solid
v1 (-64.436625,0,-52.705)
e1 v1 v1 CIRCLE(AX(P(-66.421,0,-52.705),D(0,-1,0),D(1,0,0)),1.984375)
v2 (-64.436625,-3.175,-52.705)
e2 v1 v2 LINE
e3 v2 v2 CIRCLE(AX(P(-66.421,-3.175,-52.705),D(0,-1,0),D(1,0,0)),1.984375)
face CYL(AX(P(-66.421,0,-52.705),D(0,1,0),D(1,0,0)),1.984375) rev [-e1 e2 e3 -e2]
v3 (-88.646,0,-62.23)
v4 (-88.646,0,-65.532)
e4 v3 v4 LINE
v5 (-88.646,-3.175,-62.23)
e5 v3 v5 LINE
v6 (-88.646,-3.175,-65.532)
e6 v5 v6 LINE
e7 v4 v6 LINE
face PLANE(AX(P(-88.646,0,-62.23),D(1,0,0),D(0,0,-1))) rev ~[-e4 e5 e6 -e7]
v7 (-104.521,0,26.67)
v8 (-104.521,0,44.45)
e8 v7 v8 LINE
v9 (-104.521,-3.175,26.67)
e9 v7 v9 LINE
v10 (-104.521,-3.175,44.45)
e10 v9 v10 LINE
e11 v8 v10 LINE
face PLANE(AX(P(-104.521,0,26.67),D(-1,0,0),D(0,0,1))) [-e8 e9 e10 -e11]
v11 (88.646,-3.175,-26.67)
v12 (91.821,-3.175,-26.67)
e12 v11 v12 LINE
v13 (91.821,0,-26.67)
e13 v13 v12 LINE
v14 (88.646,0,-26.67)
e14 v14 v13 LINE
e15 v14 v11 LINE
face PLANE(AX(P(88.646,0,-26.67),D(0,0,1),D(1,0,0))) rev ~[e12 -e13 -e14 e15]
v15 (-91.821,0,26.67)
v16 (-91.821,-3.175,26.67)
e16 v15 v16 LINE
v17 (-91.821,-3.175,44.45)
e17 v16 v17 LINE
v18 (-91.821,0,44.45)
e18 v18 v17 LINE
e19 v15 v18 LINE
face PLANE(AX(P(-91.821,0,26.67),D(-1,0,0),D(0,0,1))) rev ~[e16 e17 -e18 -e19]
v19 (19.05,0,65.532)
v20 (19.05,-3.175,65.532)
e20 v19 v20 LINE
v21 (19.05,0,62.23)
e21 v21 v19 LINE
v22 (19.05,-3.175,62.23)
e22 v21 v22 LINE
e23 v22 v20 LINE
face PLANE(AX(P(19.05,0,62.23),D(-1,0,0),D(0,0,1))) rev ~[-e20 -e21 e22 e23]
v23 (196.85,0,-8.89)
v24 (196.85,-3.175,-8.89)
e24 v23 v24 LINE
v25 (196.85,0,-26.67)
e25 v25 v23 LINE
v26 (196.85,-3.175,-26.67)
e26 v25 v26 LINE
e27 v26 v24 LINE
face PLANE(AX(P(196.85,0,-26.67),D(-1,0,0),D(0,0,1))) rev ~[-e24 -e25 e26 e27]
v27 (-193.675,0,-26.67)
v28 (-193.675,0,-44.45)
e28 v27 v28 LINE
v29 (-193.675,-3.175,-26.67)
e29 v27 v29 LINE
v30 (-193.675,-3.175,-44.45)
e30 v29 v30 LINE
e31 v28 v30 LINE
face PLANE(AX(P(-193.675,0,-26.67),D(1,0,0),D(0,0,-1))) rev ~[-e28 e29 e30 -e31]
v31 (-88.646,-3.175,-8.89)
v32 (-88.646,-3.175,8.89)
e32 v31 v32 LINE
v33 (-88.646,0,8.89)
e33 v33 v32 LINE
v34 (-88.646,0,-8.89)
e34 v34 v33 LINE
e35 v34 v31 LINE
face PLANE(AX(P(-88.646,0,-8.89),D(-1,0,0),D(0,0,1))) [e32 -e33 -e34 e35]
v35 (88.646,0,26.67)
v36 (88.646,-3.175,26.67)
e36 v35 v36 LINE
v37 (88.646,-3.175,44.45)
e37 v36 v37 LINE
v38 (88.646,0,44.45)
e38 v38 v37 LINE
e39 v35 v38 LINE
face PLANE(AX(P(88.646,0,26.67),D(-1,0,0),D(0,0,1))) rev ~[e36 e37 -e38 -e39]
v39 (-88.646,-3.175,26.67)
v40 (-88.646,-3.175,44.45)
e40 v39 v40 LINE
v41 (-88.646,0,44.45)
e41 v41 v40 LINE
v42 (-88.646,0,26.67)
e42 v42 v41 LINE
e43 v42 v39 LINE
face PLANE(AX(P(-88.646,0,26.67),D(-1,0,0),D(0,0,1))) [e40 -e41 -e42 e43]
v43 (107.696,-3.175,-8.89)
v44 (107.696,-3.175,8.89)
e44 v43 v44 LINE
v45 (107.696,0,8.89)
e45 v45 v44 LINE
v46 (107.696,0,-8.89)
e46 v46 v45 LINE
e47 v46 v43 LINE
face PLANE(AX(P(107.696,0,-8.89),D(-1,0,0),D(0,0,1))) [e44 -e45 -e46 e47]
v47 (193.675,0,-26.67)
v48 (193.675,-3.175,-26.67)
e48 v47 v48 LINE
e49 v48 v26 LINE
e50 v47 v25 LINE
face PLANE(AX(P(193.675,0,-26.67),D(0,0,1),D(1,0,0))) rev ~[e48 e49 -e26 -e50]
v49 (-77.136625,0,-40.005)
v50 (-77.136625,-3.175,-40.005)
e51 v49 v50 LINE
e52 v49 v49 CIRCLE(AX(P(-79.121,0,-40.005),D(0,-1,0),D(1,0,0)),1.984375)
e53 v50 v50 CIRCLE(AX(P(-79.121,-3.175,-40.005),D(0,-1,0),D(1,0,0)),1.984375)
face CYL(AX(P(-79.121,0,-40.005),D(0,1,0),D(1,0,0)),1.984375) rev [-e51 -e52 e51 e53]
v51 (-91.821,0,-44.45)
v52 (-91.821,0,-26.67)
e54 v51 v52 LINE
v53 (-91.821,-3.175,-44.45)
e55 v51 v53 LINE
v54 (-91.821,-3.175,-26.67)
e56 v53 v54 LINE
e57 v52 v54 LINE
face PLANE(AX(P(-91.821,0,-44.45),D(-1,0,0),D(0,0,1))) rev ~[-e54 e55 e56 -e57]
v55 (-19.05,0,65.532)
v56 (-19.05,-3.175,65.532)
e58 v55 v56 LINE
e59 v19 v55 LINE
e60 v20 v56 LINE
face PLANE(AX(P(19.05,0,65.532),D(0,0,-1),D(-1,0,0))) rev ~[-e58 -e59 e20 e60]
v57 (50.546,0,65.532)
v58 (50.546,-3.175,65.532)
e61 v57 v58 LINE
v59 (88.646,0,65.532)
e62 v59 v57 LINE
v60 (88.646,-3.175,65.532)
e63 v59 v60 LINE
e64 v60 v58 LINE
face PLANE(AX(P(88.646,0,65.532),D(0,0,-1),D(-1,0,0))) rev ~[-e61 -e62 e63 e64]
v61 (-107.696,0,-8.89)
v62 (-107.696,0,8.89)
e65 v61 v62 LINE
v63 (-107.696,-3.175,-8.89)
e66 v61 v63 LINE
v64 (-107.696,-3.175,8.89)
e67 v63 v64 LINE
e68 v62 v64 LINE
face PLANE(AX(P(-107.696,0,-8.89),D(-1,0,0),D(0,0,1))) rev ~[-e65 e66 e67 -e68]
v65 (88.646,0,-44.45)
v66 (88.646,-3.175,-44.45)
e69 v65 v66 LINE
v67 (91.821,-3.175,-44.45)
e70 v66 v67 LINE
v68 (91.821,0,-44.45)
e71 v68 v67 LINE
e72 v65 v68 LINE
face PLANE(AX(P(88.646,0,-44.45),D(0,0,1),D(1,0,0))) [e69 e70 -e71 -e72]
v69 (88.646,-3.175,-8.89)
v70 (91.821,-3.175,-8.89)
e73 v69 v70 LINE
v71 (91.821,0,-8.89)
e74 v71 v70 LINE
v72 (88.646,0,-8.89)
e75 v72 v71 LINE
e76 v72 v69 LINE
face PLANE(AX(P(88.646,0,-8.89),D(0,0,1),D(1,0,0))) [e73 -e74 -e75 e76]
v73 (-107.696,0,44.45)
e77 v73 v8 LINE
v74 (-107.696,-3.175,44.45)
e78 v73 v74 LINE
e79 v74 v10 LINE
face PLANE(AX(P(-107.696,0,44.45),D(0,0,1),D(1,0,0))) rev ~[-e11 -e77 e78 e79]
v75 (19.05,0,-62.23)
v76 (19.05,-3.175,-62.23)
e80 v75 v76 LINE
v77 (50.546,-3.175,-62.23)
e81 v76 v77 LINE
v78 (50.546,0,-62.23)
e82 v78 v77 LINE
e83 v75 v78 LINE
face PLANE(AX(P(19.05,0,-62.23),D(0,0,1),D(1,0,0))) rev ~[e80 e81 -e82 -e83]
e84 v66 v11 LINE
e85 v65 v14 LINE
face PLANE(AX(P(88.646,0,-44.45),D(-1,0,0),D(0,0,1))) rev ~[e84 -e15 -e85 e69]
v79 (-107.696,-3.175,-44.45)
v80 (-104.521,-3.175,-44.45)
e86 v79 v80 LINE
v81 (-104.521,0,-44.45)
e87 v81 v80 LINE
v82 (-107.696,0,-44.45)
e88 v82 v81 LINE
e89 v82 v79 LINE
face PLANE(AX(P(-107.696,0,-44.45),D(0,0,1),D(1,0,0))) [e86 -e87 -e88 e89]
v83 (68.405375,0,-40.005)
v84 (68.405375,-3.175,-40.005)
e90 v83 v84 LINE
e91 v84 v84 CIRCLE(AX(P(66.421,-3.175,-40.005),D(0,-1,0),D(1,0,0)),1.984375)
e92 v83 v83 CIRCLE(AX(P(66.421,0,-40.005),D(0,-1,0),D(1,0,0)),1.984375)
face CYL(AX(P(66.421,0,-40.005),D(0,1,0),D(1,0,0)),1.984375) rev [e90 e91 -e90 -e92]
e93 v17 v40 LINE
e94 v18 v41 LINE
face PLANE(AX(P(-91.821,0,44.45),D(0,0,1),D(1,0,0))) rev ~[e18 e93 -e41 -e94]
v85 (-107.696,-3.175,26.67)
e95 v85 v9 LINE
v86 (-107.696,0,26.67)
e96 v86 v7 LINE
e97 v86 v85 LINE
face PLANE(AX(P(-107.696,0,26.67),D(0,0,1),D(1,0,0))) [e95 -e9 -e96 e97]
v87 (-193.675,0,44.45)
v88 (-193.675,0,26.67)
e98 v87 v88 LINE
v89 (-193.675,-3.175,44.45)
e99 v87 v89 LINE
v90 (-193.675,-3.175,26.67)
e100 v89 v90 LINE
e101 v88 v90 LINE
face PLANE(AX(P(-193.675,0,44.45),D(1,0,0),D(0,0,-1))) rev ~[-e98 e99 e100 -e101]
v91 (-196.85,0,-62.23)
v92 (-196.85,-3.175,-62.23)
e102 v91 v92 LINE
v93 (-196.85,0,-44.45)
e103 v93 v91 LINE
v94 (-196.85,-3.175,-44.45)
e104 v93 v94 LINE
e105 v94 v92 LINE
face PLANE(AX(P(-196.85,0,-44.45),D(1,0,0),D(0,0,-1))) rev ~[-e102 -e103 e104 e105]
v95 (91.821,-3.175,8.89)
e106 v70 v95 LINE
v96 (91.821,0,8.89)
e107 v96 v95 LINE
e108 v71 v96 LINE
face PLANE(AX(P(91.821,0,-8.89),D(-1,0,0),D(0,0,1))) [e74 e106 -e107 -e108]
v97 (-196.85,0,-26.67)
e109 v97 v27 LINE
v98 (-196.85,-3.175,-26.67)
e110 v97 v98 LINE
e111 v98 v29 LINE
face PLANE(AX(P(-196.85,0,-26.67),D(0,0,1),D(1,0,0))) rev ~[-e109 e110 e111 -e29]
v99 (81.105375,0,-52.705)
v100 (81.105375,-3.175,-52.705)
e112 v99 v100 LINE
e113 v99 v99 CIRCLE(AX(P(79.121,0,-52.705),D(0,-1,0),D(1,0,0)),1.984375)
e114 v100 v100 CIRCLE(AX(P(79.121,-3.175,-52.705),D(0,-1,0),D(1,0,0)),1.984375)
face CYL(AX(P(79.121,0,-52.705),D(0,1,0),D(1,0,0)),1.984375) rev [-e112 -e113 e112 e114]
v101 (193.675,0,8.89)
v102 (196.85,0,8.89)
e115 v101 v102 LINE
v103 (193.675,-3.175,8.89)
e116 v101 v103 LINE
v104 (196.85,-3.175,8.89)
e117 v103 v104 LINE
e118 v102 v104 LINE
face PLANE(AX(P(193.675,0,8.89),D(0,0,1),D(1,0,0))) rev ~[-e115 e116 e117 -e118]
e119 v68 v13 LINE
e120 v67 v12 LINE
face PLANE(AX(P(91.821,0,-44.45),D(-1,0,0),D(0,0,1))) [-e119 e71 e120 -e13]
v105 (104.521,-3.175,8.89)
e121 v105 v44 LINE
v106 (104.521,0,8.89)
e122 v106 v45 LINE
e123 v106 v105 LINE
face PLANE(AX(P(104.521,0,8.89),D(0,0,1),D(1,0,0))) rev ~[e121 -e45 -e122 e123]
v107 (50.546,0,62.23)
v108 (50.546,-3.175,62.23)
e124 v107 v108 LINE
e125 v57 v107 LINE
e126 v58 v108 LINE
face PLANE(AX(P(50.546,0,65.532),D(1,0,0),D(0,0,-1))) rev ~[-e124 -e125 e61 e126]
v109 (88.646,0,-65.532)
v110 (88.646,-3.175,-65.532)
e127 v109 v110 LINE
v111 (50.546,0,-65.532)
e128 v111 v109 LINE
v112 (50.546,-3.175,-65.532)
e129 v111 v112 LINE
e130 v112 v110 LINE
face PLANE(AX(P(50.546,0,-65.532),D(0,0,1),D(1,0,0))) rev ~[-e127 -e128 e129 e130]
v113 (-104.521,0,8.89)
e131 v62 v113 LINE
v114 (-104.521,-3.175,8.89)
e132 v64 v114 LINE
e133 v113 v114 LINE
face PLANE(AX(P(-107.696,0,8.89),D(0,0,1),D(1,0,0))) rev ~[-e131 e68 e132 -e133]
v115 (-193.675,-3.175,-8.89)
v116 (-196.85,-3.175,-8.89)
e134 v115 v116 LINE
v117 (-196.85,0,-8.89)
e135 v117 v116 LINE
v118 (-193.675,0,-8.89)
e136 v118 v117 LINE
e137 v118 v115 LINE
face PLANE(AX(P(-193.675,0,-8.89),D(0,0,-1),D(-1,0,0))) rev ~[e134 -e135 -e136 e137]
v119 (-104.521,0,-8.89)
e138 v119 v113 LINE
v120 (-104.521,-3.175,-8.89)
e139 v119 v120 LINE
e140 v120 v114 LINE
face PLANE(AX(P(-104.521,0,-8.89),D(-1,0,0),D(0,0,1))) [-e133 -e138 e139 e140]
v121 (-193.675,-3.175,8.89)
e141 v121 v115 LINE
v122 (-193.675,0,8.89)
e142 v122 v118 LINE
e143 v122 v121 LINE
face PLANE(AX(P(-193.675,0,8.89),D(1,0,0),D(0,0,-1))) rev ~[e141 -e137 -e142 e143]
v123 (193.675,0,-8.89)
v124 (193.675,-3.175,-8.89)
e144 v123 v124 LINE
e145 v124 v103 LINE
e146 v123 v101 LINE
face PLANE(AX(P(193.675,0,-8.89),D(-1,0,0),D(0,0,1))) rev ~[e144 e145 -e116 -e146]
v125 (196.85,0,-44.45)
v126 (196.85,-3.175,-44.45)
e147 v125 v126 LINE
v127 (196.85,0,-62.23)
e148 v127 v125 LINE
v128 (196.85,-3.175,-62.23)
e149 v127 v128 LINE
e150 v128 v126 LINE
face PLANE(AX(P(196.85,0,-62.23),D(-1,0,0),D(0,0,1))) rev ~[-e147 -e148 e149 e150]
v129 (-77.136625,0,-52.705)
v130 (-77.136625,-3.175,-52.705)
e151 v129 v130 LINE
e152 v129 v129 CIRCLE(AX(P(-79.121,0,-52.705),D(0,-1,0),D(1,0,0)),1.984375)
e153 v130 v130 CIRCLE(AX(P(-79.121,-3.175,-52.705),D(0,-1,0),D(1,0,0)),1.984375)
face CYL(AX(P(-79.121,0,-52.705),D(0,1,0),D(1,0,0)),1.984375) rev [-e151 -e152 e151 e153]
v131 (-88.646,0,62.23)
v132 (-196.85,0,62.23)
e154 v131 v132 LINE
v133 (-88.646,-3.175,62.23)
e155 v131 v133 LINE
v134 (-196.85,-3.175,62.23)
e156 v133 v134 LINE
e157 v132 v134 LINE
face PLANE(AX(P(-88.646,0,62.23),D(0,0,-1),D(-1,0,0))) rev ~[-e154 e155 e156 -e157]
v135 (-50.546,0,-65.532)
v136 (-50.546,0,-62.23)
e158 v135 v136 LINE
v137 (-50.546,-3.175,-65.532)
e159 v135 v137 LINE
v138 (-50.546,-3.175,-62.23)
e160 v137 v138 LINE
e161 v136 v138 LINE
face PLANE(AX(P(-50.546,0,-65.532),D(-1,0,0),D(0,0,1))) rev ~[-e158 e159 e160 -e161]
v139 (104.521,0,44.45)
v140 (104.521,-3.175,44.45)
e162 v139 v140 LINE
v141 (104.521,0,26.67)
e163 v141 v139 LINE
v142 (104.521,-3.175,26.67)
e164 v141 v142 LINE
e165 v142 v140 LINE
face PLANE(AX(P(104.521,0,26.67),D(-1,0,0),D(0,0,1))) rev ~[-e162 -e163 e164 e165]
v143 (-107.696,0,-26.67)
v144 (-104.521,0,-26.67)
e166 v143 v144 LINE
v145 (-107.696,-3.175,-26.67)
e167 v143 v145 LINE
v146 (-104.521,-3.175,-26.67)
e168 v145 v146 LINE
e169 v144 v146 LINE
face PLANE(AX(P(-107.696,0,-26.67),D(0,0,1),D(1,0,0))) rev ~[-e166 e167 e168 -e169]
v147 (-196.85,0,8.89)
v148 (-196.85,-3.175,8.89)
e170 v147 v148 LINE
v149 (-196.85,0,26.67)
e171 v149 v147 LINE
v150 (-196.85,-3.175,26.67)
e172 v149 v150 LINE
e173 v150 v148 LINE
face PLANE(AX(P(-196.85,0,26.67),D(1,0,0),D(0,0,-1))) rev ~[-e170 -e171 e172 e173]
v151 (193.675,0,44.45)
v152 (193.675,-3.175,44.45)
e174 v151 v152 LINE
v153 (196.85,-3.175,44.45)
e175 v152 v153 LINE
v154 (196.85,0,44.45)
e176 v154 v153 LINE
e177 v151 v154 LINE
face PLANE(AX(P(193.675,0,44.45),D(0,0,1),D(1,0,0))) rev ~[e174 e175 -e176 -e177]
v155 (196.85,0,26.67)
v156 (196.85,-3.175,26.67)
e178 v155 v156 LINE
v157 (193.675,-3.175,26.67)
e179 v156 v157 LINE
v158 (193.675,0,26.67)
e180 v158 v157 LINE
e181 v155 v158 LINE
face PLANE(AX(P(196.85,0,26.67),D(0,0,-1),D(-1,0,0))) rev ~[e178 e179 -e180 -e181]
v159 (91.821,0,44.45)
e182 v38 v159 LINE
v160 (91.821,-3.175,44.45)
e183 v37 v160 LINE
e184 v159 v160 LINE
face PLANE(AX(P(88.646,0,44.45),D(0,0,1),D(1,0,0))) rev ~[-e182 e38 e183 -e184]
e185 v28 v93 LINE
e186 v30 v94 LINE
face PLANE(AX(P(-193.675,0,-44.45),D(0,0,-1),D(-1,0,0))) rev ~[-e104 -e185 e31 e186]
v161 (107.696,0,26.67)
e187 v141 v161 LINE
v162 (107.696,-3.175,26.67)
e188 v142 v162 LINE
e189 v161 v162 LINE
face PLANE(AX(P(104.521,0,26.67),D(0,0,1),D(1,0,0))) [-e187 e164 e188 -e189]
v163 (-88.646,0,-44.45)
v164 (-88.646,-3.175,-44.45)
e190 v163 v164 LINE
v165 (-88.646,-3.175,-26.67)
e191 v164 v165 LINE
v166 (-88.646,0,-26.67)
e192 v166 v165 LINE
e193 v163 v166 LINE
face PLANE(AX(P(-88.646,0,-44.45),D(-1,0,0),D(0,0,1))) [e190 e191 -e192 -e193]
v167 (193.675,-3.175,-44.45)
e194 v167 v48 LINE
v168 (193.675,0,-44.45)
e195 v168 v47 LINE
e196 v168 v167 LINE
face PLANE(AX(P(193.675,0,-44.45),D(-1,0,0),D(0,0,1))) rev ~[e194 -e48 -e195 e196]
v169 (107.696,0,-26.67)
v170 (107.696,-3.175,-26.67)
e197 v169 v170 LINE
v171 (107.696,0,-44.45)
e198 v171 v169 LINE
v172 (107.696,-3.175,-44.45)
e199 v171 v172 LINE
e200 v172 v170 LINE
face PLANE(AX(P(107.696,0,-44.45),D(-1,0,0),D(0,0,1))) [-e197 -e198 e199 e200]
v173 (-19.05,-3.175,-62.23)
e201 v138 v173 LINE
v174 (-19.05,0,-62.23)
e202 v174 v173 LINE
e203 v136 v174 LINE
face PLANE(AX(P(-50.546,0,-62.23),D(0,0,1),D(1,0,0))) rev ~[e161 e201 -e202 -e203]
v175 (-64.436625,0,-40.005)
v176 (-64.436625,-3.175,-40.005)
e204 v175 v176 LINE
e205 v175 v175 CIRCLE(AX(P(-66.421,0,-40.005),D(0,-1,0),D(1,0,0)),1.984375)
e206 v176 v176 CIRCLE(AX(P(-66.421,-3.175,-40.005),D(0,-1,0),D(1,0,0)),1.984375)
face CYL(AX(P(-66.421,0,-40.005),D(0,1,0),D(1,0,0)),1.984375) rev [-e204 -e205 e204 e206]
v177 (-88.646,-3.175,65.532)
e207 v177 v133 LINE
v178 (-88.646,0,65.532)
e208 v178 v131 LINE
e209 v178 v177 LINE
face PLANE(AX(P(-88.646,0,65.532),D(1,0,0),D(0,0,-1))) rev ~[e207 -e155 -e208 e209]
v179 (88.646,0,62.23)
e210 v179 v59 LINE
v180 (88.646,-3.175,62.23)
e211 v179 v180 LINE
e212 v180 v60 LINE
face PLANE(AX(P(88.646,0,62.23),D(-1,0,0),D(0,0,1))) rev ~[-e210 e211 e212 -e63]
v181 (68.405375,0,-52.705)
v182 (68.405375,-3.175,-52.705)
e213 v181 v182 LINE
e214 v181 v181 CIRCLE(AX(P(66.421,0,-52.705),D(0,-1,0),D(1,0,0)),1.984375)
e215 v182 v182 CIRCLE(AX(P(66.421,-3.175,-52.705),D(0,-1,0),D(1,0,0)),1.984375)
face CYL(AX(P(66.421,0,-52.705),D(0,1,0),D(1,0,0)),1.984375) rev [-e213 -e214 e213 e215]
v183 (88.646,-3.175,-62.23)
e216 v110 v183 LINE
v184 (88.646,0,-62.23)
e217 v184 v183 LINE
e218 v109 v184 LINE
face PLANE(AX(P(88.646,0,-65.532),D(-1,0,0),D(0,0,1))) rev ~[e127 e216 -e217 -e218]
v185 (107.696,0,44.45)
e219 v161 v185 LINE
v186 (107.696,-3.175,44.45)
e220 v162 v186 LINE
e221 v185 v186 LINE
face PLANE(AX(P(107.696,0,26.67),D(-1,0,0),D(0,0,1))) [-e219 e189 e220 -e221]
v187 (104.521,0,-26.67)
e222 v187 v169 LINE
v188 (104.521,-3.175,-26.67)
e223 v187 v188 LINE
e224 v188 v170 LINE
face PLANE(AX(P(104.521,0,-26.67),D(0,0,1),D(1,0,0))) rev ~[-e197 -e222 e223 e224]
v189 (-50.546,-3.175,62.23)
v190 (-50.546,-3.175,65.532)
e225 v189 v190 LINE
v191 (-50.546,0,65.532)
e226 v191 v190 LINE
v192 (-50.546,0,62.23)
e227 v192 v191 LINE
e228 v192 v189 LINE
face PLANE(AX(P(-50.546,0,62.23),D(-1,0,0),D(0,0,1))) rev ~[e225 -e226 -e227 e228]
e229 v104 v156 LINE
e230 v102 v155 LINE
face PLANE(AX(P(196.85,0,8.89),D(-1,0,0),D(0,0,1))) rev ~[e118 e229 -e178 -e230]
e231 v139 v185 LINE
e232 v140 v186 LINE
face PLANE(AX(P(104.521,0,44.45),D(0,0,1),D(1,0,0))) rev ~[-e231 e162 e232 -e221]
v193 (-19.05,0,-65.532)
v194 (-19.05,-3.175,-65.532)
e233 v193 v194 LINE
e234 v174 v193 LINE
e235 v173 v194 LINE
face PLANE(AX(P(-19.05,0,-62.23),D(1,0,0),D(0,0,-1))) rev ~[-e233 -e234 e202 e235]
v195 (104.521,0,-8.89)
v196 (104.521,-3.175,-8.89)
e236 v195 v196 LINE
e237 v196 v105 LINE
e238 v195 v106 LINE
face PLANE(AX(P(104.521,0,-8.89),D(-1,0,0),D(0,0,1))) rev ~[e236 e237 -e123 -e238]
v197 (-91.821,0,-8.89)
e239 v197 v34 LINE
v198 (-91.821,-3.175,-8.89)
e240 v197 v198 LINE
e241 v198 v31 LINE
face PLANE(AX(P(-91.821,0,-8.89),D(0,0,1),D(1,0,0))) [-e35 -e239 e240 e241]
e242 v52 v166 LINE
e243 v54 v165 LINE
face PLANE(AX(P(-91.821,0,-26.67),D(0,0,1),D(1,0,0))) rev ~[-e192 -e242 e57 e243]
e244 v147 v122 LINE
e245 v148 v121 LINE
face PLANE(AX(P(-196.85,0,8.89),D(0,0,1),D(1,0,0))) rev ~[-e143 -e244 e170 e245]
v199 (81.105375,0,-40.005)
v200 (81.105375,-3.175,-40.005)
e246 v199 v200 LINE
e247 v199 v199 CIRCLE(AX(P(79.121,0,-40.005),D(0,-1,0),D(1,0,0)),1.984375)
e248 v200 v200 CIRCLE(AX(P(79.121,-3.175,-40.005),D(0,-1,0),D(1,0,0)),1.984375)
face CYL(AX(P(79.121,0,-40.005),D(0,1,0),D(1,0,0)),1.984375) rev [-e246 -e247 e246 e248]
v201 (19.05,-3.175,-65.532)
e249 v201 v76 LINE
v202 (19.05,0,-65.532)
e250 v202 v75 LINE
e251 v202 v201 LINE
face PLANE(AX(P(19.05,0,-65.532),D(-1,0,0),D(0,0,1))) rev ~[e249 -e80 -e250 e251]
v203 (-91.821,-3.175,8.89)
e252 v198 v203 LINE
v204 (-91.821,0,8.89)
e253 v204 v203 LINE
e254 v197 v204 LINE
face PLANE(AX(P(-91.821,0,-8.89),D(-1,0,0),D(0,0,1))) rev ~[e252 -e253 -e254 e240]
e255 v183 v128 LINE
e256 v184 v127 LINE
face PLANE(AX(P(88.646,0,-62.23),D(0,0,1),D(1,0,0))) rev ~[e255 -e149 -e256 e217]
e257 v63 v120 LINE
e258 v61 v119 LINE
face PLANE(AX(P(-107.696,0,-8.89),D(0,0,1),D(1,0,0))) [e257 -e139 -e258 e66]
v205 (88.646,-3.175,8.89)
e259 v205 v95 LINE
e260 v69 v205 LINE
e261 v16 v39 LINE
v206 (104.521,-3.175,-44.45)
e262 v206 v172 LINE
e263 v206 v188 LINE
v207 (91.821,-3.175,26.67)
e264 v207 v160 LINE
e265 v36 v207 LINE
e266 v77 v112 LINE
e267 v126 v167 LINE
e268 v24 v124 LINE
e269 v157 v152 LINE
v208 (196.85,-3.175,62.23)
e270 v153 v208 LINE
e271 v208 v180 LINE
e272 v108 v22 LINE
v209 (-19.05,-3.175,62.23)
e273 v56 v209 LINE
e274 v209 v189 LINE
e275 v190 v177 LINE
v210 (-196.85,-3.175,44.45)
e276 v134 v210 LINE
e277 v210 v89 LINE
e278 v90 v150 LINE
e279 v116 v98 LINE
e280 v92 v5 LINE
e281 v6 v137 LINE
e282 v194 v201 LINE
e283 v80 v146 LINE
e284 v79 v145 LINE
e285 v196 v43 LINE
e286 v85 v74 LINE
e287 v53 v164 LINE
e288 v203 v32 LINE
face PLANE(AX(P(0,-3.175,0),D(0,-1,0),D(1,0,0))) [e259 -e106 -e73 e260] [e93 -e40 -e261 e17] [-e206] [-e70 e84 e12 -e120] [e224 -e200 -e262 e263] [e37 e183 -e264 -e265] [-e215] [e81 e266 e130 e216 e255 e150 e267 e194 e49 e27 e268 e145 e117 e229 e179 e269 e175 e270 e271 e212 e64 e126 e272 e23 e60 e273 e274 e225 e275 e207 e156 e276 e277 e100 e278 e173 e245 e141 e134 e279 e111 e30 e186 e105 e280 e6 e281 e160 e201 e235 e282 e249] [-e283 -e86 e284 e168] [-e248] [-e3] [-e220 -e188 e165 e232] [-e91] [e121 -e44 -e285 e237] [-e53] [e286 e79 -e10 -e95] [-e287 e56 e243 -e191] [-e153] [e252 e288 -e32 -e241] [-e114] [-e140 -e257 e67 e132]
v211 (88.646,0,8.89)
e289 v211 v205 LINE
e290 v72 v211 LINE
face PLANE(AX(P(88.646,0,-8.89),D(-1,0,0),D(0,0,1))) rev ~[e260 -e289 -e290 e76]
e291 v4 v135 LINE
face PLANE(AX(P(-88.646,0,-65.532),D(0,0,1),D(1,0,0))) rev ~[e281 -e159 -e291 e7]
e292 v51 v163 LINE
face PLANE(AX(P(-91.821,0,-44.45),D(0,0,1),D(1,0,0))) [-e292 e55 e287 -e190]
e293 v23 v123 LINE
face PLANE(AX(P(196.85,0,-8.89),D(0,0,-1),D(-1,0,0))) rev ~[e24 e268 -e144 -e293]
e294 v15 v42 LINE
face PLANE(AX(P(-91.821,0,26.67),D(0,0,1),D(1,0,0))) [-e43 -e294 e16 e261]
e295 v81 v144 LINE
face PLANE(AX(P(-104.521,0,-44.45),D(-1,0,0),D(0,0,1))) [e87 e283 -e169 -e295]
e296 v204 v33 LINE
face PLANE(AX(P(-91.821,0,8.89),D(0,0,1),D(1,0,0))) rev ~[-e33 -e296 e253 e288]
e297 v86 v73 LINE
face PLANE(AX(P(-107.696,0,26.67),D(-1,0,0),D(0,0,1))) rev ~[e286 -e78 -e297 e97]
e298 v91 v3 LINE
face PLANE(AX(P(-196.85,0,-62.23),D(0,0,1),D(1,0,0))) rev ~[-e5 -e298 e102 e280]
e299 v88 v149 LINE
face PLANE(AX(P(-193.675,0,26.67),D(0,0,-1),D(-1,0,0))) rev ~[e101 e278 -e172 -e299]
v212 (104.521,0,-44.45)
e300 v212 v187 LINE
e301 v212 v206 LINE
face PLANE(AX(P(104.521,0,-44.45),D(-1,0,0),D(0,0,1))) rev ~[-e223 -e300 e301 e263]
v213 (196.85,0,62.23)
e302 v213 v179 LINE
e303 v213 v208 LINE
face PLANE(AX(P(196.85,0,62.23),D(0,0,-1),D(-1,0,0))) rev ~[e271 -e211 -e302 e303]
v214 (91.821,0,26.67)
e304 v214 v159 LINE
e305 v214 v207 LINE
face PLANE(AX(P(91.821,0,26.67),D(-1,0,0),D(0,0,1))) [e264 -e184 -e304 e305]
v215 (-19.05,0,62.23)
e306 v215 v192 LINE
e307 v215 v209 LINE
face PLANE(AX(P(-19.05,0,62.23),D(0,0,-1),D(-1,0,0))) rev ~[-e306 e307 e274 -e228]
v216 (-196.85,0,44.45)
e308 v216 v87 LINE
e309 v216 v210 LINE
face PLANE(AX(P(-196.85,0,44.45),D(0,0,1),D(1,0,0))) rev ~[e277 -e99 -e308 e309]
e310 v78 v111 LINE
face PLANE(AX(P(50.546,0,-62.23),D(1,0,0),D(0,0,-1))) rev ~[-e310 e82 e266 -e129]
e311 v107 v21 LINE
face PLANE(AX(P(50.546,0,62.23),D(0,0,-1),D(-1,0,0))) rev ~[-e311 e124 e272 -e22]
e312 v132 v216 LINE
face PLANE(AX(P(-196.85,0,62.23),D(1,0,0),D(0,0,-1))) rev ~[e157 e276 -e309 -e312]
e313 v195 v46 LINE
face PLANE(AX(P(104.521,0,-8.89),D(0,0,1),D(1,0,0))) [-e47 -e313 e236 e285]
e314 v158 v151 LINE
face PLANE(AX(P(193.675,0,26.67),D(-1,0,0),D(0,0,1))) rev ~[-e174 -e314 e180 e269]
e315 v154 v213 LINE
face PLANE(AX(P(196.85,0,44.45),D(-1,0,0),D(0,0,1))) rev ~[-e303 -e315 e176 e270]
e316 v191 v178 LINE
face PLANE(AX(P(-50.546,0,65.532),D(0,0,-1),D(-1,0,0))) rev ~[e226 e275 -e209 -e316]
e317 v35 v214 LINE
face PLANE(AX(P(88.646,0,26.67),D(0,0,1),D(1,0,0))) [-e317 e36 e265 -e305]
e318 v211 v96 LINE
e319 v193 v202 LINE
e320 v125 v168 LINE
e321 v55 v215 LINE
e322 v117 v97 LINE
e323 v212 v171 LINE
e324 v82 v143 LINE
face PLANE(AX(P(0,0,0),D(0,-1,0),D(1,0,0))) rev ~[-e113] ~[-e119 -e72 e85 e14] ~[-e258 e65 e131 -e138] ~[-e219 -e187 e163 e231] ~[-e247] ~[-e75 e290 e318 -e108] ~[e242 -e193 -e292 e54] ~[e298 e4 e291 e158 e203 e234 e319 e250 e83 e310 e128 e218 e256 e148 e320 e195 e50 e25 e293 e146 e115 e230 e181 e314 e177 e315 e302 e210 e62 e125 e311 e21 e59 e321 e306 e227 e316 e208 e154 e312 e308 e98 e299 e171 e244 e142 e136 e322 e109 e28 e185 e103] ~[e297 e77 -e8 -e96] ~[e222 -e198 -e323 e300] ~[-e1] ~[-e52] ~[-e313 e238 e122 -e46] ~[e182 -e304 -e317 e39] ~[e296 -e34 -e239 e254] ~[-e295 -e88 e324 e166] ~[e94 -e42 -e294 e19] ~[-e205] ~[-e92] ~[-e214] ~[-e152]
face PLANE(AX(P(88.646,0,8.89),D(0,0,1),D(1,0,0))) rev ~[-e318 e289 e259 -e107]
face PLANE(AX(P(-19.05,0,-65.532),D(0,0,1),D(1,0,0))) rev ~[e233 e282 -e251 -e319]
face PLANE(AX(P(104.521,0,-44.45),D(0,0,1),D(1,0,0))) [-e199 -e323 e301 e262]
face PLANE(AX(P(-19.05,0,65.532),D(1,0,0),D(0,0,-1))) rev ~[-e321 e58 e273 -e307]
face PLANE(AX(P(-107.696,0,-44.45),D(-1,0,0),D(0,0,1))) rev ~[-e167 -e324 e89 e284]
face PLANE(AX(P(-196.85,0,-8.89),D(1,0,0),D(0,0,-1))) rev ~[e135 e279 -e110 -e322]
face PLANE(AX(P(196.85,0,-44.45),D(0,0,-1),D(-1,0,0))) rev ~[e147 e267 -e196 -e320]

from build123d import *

# Parameters (mm, degrees)
F0_W     = 3.175
F0_H     = 17.78
F0_R     = 1.984375
F1_DEPTH = 3.175


with BuildPart() as f1:
    # F0 (on Front) → F1 (new body)
    with BuildSketch(Plane.XZ):
        Polygon((-88.646, -65.532), (-50.546, -65.532), (-50.546, -62.23), (-19.05, -62.23), (-19.05, -65.532), (19.05, -65.532), (19.05, -62.23), (50.546, -62.23), (50.546, -65.532), (88.646, -65.532), (88.646, -62.23), (107.696, -62.23), (196.85, -62.23), (196.85, -44.45), (193.675, -44.45), (193.675, -26.67), (196.85, -26.67), (196.85, -8.89), (193.675, -8.89), (193.675, 8.89), (196.85, 8.89), (196.85, 26.67), (193.675, 26.67), (193.675, 44.45), (196.85, 44.45), (196.85, 62.23), (107.696, 62.23), (88.646, 62.23), (88.646, 65.532), (50.546, 65.532), (50.546, 62.23), (19.05, 62.23), (19.05, 65.532), (-19.05, 65.532), (-19.05, 62.23), (-50.546, 62.23), (-50.546, 65.532), (-88.646, 65.532), (-88.646, 62.23), (-107.696, 62.23), (-196.85, 62.23), (-196.85, 44.45), (-193.675, 44.45), (-193.675, 26.67), (-196.85, 26.67), (-196.85, 8.89), (-193.675, 8.89), (-193.675, -8.89), (-196.85, -8.89), (-196.85, -26.67), (-193.675, -26.67), (-193.675, -44.45), (-196.85, -44.45), (-196.85, -62.23), (-107.696, -62.23), (-88.646, -62.23), align=None)
        with Locations((-106.1085, -35.56)):
            Rectangle(F0_W, F0_H, mode=Mode.SUBTRACT)
        with Locations((-79.121, -52.705)):
            Circle(F0_R, mode=Mode.SUBTRACT)
        with Locations((-66.421, -52.705)):
            Circle(F0_R, mode=Mode.SUBTRACT)
        with Locations((-79.121, -40.005)):
            Circle(F0_R, mode=Mode.SUBTRACT)
        with Locations((-90.2335, -35.56)):
            Rectangle(F0_W, F0_H, mode=Mode.SUBTRACT)
        with Locations((-66.421, -40.005)):
            Circle(F0_R, mode=Mode.SUBTRACT)
        with Locations((66.421, -52.705)):
            Circle(F0_R, mode=Mode.SUBTRACT)
        with Locations((79.121, -52.705)):
            Circle(F0_R, mode=Mode.SUBTRACT)
        with Locations((66.421, -40.005)):
            Circle(F0_R, mode=Mode.SUBTRACT)
        with Locations((79.121, -40.005)):
            Circle(F0_R, mode=Mode.SUBTRACT)
        with Locations((90.2335, -35.56)):
            Rectangle(F0_W, F0_H, mode=Mode.SUBTRACT)
        with Locations((106.1085, -35.56)):
            Rectangle(F0_W, F0_H, mode=Mode.SUBTRACT)
        with Locations((-106.1085, 0)):
            Rectangle(F0_W, F0_H, mode=Mode.SUBTRACT)
        with Locations((-90.2335, 0)):
            Rectangle(F0_W, F0_H, mode=Mode.SUBTRACT)
        with Locations((-106.1085, 35.56)):
            Rectangle(F0_W, F0_H, mode=Mode.SUBTRACT)
        with Locations((-90.2335, 35.56)):
            Rectangle(F0_W, F0_H, mode=Mode.SUBTRACT)
        with Locations((90.2335, 0)):
            Rectangle(F0_W, F0_H, mode=Mode.SUBTRACT)
        with Locations((106.1085, 0)):
            Rectangle(F0_W, F0_H, mode=Mode.SUBTRACT)
        with Locations((90.2335, 35.56)):
            Rectangle(F0_W, F0_H, mode=Mode.SUBTRACT)
        with Locations((106.1085, 35.56)):
            Rectangle(F0_W, F0_H, mode=Mode.SUBTRACT)
    extrude(amount=F1_DEPTH)


solid = f1.part
